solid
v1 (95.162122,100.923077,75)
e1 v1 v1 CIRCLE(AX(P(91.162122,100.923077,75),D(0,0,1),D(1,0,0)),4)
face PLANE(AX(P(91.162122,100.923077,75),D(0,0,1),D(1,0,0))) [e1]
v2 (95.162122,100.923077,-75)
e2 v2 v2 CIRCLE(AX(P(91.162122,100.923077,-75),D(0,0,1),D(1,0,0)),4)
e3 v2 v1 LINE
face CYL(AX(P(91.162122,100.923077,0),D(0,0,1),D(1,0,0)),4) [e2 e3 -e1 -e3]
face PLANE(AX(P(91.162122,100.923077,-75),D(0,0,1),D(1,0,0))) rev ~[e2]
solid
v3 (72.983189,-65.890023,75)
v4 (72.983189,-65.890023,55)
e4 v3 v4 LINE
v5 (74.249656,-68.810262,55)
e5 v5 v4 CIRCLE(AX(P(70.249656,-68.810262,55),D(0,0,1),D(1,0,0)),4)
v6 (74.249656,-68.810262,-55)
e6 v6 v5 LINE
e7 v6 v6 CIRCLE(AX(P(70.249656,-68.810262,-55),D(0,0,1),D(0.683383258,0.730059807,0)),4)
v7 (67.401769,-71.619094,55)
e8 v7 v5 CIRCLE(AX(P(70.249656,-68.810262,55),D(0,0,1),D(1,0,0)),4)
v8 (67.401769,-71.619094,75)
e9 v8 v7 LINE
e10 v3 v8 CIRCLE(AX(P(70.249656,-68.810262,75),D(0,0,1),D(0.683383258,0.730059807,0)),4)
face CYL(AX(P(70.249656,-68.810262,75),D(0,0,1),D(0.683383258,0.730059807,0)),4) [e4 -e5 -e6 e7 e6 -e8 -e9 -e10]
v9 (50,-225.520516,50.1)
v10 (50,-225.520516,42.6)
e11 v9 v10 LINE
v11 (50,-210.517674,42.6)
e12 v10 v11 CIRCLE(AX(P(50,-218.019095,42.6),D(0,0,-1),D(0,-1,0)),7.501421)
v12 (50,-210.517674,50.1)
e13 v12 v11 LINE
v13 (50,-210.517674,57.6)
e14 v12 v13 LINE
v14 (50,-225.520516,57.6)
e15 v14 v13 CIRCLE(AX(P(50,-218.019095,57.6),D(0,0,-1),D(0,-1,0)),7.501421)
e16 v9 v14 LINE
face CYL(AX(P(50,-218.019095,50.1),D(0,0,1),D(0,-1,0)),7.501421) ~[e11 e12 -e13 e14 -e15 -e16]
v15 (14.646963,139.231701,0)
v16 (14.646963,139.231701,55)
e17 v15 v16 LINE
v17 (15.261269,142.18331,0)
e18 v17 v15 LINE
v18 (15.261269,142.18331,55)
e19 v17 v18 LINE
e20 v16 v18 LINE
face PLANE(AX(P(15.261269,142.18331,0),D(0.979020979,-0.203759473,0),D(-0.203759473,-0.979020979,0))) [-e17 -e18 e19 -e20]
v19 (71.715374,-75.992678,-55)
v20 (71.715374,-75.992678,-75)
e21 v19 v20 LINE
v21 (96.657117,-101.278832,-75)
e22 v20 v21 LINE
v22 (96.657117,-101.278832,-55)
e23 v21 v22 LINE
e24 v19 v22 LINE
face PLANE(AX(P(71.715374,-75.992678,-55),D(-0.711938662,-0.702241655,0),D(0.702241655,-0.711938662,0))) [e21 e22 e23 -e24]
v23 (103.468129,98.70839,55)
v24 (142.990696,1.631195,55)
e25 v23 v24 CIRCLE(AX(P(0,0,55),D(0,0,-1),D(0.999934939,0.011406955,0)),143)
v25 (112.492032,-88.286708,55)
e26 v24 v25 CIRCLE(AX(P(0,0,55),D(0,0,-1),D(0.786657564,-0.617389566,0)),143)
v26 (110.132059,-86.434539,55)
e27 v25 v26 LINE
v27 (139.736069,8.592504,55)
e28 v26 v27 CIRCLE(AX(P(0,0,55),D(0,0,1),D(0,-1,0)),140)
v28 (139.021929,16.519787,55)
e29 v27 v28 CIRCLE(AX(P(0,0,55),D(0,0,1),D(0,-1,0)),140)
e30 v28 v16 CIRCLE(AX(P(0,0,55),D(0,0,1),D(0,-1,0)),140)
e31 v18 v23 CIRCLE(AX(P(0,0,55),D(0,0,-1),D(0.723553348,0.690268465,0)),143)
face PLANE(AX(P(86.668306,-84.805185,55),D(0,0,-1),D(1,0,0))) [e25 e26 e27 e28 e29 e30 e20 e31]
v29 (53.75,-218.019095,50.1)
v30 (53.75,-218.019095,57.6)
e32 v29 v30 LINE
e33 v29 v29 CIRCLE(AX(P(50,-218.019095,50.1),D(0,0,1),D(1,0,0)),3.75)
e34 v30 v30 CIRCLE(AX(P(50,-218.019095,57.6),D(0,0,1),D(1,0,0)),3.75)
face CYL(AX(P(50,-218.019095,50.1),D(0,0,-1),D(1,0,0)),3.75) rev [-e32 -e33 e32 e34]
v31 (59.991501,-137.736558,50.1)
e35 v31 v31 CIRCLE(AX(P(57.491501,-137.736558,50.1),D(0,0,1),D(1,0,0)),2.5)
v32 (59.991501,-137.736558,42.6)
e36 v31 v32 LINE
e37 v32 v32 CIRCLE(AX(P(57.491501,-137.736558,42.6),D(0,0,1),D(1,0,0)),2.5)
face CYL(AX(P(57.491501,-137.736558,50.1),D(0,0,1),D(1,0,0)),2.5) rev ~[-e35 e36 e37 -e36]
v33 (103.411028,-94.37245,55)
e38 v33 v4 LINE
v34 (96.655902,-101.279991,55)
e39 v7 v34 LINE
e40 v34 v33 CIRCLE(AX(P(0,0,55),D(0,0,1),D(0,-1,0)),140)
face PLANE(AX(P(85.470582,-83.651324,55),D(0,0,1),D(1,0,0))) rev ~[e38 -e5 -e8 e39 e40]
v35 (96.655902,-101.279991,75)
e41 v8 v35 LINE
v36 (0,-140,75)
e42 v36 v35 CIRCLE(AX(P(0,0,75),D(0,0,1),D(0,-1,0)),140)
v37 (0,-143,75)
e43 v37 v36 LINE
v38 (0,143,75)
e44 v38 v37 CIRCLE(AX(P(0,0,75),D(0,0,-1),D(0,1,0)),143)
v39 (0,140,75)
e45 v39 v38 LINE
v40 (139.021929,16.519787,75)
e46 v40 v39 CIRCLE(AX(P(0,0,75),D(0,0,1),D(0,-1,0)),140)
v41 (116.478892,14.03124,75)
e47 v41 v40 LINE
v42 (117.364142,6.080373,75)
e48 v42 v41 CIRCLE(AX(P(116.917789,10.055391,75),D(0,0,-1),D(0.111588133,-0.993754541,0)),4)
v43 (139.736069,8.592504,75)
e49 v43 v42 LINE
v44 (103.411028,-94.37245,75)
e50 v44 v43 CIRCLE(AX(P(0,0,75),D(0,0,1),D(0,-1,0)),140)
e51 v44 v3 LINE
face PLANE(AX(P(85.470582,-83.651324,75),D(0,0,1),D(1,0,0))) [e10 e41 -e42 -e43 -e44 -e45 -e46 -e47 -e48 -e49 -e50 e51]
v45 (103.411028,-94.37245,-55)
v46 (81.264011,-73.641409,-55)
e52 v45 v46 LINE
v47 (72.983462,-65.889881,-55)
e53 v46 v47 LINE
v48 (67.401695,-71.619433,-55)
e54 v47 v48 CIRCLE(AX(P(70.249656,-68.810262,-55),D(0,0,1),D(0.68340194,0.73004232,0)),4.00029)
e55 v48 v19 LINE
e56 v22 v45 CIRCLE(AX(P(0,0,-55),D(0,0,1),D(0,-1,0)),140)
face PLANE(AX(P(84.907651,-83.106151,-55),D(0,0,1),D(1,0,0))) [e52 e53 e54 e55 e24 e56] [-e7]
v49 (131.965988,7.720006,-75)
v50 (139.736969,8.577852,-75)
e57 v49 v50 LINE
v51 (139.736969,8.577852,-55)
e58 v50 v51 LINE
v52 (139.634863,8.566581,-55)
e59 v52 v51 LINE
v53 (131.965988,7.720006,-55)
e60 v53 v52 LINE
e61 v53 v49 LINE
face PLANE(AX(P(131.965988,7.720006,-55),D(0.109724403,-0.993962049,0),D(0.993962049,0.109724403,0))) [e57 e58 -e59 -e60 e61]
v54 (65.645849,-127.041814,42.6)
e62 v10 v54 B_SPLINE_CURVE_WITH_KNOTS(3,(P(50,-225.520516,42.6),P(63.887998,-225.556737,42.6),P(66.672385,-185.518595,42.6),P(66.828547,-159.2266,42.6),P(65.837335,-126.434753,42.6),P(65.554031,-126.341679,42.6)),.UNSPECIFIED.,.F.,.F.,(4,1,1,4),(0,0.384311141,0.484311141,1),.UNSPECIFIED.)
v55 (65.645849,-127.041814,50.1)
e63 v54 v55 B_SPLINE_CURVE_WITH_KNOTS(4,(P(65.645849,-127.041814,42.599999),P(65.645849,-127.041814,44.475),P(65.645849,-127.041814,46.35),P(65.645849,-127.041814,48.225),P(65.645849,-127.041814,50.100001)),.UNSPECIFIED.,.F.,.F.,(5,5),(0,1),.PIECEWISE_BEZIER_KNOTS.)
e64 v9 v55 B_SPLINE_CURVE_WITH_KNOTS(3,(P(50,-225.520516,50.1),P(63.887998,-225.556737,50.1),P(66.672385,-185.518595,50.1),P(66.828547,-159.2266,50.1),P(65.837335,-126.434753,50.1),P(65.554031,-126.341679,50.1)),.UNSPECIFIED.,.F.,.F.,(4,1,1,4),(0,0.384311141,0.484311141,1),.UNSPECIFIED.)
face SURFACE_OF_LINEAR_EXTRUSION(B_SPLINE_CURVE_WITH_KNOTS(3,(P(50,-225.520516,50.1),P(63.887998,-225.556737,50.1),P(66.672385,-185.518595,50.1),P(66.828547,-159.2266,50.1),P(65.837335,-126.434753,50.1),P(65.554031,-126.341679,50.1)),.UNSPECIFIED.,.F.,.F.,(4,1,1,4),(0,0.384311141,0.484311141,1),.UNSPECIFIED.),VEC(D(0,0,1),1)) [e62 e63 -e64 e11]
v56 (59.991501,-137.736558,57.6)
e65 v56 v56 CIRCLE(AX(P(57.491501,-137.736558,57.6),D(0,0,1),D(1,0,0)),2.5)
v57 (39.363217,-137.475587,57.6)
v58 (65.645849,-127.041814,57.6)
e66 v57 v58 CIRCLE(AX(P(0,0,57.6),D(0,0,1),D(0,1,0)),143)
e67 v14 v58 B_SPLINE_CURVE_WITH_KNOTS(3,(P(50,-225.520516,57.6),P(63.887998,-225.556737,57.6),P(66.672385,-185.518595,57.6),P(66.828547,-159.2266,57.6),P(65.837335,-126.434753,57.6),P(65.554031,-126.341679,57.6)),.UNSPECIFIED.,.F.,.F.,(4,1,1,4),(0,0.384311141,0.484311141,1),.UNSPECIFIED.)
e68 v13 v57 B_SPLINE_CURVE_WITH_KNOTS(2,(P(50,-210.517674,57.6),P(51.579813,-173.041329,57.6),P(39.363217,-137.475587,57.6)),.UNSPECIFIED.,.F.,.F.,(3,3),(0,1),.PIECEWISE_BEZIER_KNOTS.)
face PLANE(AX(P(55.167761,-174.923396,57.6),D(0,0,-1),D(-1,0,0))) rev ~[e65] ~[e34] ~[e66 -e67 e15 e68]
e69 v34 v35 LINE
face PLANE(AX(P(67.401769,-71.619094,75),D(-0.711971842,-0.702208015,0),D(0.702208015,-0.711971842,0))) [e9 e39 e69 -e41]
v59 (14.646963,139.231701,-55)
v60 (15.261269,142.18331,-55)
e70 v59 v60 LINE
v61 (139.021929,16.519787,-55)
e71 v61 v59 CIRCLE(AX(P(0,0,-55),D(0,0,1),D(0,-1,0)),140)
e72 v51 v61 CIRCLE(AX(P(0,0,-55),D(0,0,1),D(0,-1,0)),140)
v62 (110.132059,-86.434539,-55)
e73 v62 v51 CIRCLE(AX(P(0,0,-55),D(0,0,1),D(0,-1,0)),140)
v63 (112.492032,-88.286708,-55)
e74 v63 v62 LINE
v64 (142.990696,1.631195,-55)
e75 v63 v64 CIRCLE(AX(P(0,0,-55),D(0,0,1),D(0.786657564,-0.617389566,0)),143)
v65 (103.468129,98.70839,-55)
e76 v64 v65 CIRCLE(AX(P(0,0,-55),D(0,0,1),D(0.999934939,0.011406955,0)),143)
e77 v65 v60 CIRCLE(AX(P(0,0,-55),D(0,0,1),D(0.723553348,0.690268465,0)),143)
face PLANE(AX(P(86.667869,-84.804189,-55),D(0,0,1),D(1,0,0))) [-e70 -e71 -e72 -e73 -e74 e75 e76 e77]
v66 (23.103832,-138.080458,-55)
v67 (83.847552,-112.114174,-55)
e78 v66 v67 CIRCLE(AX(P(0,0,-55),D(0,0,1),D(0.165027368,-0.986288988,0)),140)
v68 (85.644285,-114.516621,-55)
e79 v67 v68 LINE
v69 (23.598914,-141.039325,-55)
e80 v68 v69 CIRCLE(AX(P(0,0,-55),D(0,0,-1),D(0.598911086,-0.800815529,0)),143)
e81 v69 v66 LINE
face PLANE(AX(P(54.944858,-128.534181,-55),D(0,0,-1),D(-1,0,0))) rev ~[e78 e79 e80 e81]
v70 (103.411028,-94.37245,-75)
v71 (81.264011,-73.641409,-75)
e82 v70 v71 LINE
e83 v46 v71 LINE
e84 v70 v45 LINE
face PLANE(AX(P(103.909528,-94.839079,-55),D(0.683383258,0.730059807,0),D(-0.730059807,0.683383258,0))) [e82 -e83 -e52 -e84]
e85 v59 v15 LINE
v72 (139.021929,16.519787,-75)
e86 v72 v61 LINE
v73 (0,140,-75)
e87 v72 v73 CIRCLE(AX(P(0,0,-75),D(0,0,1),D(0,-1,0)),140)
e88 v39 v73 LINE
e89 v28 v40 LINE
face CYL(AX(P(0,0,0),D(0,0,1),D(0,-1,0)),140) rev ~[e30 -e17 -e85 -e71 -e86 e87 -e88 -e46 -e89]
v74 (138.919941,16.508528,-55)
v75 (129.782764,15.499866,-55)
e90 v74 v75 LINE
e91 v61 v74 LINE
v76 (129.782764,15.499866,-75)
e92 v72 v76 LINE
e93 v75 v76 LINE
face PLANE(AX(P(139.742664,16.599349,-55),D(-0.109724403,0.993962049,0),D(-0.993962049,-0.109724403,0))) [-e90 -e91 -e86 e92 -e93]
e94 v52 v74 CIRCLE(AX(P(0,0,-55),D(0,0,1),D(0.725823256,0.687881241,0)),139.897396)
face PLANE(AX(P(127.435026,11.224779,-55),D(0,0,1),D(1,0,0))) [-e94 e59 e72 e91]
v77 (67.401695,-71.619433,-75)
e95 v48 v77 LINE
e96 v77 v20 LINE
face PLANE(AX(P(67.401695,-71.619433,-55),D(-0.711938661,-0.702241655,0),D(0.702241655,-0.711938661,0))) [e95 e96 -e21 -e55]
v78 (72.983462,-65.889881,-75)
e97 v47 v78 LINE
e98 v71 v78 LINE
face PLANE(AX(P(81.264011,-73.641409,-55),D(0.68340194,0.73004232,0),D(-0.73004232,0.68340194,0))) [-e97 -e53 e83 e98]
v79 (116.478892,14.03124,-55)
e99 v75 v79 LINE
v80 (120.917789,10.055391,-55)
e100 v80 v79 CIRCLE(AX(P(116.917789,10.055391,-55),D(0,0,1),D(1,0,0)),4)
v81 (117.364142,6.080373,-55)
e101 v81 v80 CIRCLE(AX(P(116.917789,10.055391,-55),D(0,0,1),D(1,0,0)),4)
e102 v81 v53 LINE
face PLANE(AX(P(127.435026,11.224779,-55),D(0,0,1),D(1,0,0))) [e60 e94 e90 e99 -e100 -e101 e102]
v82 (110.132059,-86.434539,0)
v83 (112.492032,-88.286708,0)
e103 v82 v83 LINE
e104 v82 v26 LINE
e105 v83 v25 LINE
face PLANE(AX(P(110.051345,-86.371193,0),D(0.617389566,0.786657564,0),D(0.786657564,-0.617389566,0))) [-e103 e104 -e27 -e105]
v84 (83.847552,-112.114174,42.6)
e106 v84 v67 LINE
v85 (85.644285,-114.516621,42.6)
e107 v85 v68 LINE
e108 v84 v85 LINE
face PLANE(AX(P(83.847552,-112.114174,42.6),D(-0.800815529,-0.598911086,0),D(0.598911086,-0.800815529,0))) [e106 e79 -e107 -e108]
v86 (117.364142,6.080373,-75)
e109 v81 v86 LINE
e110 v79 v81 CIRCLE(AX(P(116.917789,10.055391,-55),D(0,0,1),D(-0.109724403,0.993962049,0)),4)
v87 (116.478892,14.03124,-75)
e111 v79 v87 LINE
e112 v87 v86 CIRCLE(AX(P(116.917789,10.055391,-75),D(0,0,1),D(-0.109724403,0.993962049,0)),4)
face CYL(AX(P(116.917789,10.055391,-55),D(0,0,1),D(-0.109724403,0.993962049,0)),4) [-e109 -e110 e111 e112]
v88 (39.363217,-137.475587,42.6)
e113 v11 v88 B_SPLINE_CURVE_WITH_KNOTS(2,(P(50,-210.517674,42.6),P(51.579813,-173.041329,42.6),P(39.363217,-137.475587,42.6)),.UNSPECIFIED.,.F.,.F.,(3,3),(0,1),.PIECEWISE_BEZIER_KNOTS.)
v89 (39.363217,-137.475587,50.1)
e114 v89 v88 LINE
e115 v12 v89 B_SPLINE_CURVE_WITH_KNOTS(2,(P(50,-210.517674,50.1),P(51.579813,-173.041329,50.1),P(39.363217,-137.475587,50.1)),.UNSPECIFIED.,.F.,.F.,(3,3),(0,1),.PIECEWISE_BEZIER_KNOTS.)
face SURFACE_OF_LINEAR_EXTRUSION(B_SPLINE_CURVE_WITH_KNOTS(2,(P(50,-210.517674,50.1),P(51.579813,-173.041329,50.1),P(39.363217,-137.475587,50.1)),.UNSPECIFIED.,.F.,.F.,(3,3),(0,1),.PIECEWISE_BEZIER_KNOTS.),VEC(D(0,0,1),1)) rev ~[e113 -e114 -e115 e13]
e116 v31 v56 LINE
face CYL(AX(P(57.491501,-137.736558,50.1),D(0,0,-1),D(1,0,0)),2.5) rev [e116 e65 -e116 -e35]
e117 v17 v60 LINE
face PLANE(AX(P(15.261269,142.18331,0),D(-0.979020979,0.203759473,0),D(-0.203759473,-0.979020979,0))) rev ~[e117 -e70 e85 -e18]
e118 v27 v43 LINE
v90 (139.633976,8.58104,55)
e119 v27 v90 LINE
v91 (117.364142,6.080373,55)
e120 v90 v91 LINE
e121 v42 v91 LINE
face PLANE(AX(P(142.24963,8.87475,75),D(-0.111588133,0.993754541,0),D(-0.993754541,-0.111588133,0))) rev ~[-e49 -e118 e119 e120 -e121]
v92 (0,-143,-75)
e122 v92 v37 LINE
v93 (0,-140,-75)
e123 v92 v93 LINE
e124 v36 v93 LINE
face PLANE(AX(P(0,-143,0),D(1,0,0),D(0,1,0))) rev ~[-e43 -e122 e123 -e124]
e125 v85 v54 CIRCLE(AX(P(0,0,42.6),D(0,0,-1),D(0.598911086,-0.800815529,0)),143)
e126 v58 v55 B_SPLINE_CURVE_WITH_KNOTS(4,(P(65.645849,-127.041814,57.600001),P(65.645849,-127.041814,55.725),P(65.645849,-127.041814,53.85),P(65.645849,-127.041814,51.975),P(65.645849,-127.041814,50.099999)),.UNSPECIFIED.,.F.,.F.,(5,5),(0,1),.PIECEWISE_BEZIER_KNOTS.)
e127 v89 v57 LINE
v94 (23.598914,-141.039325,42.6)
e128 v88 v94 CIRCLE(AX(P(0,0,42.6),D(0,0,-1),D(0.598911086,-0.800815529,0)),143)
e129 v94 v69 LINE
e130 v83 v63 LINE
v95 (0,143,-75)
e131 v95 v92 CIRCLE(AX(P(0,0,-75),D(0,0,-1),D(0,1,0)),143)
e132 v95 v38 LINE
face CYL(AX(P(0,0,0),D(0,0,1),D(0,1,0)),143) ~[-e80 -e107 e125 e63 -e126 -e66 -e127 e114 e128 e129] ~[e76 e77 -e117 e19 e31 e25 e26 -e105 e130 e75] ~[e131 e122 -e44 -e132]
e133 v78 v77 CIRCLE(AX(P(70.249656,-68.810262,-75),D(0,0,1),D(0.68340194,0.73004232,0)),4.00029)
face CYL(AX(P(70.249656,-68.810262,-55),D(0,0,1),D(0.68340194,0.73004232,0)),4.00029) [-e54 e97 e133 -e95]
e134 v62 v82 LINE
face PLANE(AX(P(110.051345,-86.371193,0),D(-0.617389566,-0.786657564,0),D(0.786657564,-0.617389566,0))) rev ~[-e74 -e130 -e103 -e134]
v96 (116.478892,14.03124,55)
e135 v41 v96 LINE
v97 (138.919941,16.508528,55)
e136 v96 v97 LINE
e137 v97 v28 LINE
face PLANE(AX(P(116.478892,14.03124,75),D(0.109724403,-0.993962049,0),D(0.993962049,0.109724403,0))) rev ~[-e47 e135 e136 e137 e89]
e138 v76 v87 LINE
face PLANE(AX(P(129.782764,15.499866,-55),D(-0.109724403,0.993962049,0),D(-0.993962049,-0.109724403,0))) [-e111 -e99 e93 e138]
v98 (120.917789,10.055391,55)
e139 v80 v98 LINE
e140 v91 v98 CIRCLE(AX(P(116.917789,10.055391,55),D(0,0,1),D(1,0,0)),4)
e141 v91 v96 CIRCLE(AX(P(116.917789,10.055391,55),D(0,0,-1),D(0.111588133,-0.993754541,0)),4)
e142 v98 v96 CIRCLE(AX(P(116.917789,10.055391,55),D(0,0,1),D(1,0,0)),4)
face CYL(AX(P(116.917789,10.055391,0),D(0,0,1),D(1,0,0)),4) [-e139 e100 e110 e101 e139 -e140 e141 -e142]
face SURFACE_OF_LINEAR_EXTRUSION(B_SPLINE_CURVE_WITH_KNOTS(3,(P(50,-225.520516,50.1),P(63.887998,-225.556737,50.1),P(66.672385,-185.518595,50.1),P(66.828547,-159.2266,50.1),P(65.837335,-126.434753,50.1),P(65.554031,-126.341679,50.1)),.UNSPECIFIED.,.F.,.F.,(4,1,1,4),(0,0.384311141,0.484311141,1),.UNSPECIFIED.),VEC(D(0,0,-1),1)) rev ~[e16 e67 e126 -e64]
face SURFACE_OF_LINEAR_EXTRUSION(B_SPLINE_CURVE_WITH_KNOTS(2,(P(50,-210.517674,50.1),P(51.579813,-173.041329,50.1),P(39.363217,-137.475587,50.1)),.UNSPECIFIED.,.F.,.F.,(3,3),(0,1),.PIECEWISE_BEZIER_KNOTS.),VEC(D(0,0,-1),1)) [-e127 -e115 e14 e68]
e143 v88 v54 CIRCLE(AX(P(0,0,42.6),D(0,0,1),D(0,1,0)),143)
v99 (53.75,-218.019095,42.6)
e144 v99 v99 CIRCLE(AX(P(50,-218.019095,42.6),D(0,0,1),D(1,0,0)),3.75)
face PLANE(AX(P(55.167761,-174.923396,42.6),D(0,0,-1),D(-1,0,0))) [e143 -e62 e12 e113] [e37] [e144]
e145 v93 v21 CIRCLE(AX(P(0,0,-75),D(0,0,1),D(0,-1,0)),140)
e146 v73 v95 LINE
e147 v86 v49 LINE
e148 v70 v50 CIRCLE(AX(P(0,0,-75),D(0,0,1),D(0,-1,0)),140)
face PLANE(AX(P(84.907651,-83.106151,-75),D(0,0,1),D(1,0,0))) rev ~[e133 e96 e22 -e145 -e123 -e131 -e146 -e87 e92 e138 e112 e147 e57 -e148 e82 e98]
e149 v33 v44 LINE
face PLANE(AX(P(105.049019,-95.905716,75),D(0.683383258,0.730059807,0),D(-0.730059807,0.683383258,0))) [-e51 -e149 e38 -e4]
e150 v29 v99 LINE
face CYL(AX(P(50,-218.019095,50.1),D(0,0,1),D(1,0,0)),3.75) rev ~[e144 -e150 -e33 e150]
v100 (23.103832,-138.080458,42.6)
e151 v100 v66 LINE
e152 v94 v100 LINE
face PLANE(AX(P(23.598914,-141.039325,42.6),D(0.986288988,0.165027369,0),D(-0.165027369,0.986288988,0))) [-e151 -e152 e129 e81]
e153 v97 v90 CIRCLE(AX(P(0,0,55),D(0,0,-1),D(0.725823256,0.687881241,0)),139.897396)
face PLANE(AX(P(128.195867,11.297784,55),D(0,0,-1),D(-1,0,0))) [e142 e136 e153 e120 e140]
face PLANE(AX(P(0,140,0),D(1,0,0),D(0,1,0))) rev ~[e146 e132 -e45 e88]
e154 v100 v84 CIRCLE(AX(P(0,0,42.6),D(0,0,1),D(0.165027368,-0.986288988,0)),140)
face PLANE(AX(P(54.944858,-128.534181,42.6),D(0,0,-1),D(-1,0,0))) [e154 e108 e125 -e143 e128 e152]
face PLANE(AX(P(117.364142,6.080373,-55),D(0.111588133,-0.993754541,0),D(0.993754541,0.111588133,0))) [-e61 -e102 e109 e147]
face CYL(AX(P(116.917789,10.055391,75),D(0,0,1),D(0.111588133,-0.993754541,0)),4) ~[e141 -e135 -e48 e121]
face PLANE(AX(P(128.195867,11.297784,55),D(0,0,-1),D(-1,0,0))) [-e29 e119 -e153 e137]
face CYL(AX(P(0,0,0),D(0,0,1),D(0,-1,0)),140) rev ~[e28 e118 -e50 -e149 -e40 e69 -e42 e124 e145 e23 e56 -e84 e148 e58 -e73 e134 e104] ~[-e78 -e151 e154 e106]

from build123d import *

# Parameters (mm, degrees)
BOSS_EXTRUDE1_DEPTH            = 75
SKETCH2_R                      = 3.75
SKETCH2_R_2                    = 2.5
BOSS_EXTRUDE2_DEPTH            = 7.5
SKETCH4_R                      = 4
BOSS_EXTRUDE3_DEPTH            = 75
BOSS_EXTRUDE3_2_DEPTH          = 75
BOSS_EXTRUDE3_3_DEPTH          = 75
BOSS_EXTRUDE4_DEPTH            = 20
BOSS_EXTRUDE5_START            = -20
BOSS_EXTRUDE5_DEPTH            = 20
CUT_EXTRUDE1_REACH             = 279.369
CUT_EXTRUDE1_DIRECTION_2_REACH = 279.369
CUT_EXTRUDE3_START             = 42.6
CUT_EXTRUDE3_DEPTH             = 97.6


with BuildPart() as part:
    # Sketch1 → Boss-Extrude1 (new, symmetric)
    with BuildSketch(Plane.XY):
        with BuildLine():
            Line((0, -143), (0, -140))
            ThreePointArc((0, -140), (140, 0), (0, 140))
            Line((0, 140), (0, 143))
            ThreePointArc((0, 143), (143, 0), (0, -143))
        make_face()
    extrude(amount=BOSS_EXTRUDE1_DEPTH, both=True)

    # Sketch2 → Boss-Extrude2 (add, symmetric)
    with BuildSketch(Plane.XY.offset(50.1)):
        with BuildLine():
            Line((39.363217393, -137.475587347), (65.554031459, -126.341679479))
            add(Edge.make_bspline(
                [(50, -225.520515721), (63.887998116, -225.556737142), (66.67238478, -185.518594671), (66.828546925, -159.226599882), (65.837335245, -126.434753235), (65.554031459, -126.341679479)],
                knots=[0, 0, 0, 0, 0.384311141, 0.484311141, 1, 1, 1, 1], degree=3))
            ThreePointArc((50, -225.520515721), (42.498579173, -218.019094893), (50, -210.517674065))
            add(Edge.make_bspline(
                [(50, -210.517674065), (51.57981302, -173.041328894), (39.363217393, -137.475587347)],
                knots=[0, 0, 0, 1, 1, 1], degree=2))
        make_face()
        with Locations((50, -218.019094893)):
            Circle(SKETCH2_R, mode=Mode.SUBTRACT)
        with Locations((57.491500901, -137.736557679)):
            Circle(SKETCH2_R_2, mode=Mode.SUBTRACT)
    extrude(amount=BOSS_EXTRUDE2_DEPTH, both=True)



with BuildPart() as body_2:
    # Sketch4 → Boss-Extrude3 (new, symmetric)
    with BuildSketch(Plane.XY):
        with Locations((91.162122312, 100.923076923)):
            Circle(SKETCH4_R)
    extrude(amount=BOSS_EXTRUDE3_DEPTH, both=True)


with BuildPart() as body_3:
    # Sketch4 → Boss-Extrude3 2 (new, symmetric)
    with BuildSketch(Plane.XY):
        with Locations((116.917789305, 10.055391378)):
            Circle(SKETCH4_R)
    extrude(amount=BOSS_EXTRUDE3_2_DEPTH, both=True)


with BuildPart() as body_4:
    # Sketch4 → Boss-Extrude3 3 (new, symmetric)
    with BuildSketch(Plane.XY):
        with Locations((70.2496561, -68.810262197)):
            Circle(SKETCH4_R)
    extrude(amount=BOSS_EXTRUDE3_3_DEPTH, both=True)


with BuildPart() as part_1:
    add(part.part)

    add(body_3.part)  # Boss-Extrude4 merges body 3

    add(body_4.part)  # Boss-Extrude4 merges body 4
    # Sketch5 → Boss-Extrude4 (add)
    with BuildSketch(Plane.XY.offset(75)):
        with BuildLine():
            Line((67.401768733, -71.619094256), (98.381901585, -103.029989292))
            Line((98.381901585, -103.029989292), (105.049019097, -95.905716398))
            Line((105.049019097, -95.905716398), (72.983189134, -65.890022967))
            ThreePointArc((72.983189134, -65.890022967), (67.384549874, -66.018996119), (67.401768733, -71.619094256))
        make_face()
        with BuildLine():
            Line((116.478891692, 14.031239575), (141.138532223, 16.753440429))
            Line((141.138532223, 16.753440429), (142.249629521, 8.874750499))
            Line((142.249629521, 8.874750499), (117.364141838, 6.080373213))
            ThreePointArc((117.364141838, 6.080373213), (112.942354376, 9.612766111), (116.478891692, 14.031239575))
        make_face()
    extrude(amount=-BOSS_EXTRUDE4_DEPTH)

    # Sketch10 → Boss-Extrude5 (add)
    with BuildSketch(Plane(origin=(0, 0, -75), x_dir=(-1, 0, 0), z_dir=(0, 0, -1)).offset(BOSS_EXTRUDE5_START)):
        with BuildLine():
            Line((-81.264011417, -73.641408891), (-72.983462218, -65.889881022))
            ThreePointArc((-72.983462218, -65.889881022), (-67.384311741, -66.01882461), (-67.401694813, -71.619432644))
            Line((-67.401694813, -71.619432644), (-71.715374438, -75.992678343))
            Line((-71.715374438, -75.992678343), (-97.325013163, -101.9559515))
            Line((-97.325013163, -101.9559515), (-103.909527759, -94.839078712))
            Line((-103.909527759, -94.839078712), (-81.264011417, -73.641408891))
        make_face()
        with BuildLine():
            Line((-129.782763697, 15.499866488), (-116.478891692, 14.031239575))
            ThreePointArc((-116.478891692, 14.031239575), (-112.942354376, 9.612766111), (-117.364141838, 6.080373213))
            Line((-117.364141838, 6.080373213), (-131.965987804, 7.720006208))
            Line((-131.965987804, 7.720006208), (-140.617435242, 8.675047607))
            Line((-140.617435242, 8.675047607), (-139.74266415, 16.599349243))
            Line((-139.74266415, 16.599349243), (-129.782763697, 15.499866488))
        make_face()
    extrude(amount=BOSS_EXTRUDE5_DEPTH)

    # Cut-Extrude1: up to this face of the body (flat: up to its plane)
    cut_extrude1_end = Plane(part_1.part.faces().sort_by_distance((86.667869267, -84.804189346, -55))[0])
    # Sketch14 → Cut-Extrude1 (cut, up to the picked face)
    with BuildSketch(Plane.XY, mode=Mode.PRIVATE) as cut_extrude1_sk1:
        with BuildLine():
            Line((110.051344731, -86.371192556), (112.492031713, -88.286707953))
            ThreePointArc((112.492031713, -88.286707953), (135.422167186, -45.932958044), (142.990696216, 1.631194555))
            ThreePointArc((142.990696216, 1.631194555), (132.444265959, 53.921391068), (103.468128704, 98.708390436))
            ThreePointArc((103.468128704, 98.708390436), (63.219337548, 128.266579279), (15.261269183, 142.183310072))
            Line((15.261269183, 142.183310072), (14.625950853, 139.130740465))
            ThreePointArc((14.625950853, 139.130740465), (61.917170318, 125.449373855), (101.540783348, 96.232794295))
            ThreePointArc((101.540783348, 96.232794295), (129.704714642, 52.421068096), (139.890944357, 1.343527996))
            ThreePointArc((139.890944357, 1.343527996), (132.443403079, -45.055813849), (110.051344731, -86.371192556))
        make_face()
    cut_extrude1_tool1 = split(extrude(cut_extrude1_sk1.sketch, amount=-CUT_EXTRUDE1_REACH, mode=Mode.PRIVATE), bisect_by=cut_extrude1_end, keep=Keep.BOTH, mode=Mode.PRIVATE)
    add(cut_extrude1_tool1.solids().sort_by(Axis((17.526377, 140.119485, 0), (0, 0, -1)))[0], mode=Mode.SUBTRACT)

    # Cut-Extrude1 direction 2: up to this face of the body (flat: up to its plane)
    cut_extrude1_direction_2_end = Plane(part_1.part.faces().sort_by_distance((86.668305804, -84.805185214, 55))[0])
    # Sketch14 → Cut-Extrude1 direction 2 (cut, up to the picked face)
    with BuildSketch(Plane.XY, mode=Mode.PRIVATE) as cut_extrude1_direction_2_sk1:
        with BuildLine():
            Line((110.051344731, -86.371192556), (112.492031713, -88.286707953))
            ThreePointArc((112.492031713, -88.286707953), (135.422167186, -45.932958044), (142.990696216, 1.631194555))
            ThreePointArc((142.990696216, 1.631194555), (132.444265959, 53.921391068), (103.468128704, 98.708390436))
            ThreePointArc((103.468128704, 98.708390436), (63.219337548, 128.266579279), (15.261269183, 142.183310072))
            Line((15.261269183, 142.183310072), (14.625950853, 139.130740465))
            ThreePointArc((14.625950853, 139.130740465), (61.917170318, 125.449373855), (101.540783348, 96.232794295))
            ThreePointArc((101.540783348, 96.232794295), (129.704714642, 52.421068096), (139.890944357, 1.343527996))
            ThreePointArc((139.890944357, 1.343527996), (132.443403079, -45.055813849), (110.051344731, -86.371192556))
        make_face()
    cut_extrude1_direction_2_tool1 = split(extrude(cut_extrude1_direction_2_sk1.sketch, amount=CUT_EXTRUDE1_DIRECTION_2_REACH, mode=Mode.PRIVATE), bisect_by=cut_extrude1_direction_2_end, keep=Keep.BOTH, mode=Mode.PRIVATE)
    add(cut_extrude1_direction_2_tool1.solids().sort_by(Axis((17.526377, 140.119485, 0), (0, 0, 1)))[0], mode=Mode.SUBTRACT)

    # Sketch16 → Cut-Extrude3 (cut)
    with BuildSketch(Plane.XY.offset(CUT_EXTRUDE3_START)):
        with BuildLine():
            Line((83.847551975, -112.114174072), (85.644285232, -114.516620659))
            ThreePointArc((85.644285232, -114.516620659), (56.208385431, -131.489989761), (23.598913693, -141.03932527))
            Line((23.598913693, -141.03932527), (23.103831587, -138.080458306))
            ThreePointArc((23.103831587, -138.080458306), (55.029188534, -128.731458507), (83.847551975, -112.114174072))
        make_face()
    extrude(amount=-CUT_EXTRUDE3_DEPTH, mode=Mode.SUBTRACT)


solid = Compound([body_2.part, part_1.part])
